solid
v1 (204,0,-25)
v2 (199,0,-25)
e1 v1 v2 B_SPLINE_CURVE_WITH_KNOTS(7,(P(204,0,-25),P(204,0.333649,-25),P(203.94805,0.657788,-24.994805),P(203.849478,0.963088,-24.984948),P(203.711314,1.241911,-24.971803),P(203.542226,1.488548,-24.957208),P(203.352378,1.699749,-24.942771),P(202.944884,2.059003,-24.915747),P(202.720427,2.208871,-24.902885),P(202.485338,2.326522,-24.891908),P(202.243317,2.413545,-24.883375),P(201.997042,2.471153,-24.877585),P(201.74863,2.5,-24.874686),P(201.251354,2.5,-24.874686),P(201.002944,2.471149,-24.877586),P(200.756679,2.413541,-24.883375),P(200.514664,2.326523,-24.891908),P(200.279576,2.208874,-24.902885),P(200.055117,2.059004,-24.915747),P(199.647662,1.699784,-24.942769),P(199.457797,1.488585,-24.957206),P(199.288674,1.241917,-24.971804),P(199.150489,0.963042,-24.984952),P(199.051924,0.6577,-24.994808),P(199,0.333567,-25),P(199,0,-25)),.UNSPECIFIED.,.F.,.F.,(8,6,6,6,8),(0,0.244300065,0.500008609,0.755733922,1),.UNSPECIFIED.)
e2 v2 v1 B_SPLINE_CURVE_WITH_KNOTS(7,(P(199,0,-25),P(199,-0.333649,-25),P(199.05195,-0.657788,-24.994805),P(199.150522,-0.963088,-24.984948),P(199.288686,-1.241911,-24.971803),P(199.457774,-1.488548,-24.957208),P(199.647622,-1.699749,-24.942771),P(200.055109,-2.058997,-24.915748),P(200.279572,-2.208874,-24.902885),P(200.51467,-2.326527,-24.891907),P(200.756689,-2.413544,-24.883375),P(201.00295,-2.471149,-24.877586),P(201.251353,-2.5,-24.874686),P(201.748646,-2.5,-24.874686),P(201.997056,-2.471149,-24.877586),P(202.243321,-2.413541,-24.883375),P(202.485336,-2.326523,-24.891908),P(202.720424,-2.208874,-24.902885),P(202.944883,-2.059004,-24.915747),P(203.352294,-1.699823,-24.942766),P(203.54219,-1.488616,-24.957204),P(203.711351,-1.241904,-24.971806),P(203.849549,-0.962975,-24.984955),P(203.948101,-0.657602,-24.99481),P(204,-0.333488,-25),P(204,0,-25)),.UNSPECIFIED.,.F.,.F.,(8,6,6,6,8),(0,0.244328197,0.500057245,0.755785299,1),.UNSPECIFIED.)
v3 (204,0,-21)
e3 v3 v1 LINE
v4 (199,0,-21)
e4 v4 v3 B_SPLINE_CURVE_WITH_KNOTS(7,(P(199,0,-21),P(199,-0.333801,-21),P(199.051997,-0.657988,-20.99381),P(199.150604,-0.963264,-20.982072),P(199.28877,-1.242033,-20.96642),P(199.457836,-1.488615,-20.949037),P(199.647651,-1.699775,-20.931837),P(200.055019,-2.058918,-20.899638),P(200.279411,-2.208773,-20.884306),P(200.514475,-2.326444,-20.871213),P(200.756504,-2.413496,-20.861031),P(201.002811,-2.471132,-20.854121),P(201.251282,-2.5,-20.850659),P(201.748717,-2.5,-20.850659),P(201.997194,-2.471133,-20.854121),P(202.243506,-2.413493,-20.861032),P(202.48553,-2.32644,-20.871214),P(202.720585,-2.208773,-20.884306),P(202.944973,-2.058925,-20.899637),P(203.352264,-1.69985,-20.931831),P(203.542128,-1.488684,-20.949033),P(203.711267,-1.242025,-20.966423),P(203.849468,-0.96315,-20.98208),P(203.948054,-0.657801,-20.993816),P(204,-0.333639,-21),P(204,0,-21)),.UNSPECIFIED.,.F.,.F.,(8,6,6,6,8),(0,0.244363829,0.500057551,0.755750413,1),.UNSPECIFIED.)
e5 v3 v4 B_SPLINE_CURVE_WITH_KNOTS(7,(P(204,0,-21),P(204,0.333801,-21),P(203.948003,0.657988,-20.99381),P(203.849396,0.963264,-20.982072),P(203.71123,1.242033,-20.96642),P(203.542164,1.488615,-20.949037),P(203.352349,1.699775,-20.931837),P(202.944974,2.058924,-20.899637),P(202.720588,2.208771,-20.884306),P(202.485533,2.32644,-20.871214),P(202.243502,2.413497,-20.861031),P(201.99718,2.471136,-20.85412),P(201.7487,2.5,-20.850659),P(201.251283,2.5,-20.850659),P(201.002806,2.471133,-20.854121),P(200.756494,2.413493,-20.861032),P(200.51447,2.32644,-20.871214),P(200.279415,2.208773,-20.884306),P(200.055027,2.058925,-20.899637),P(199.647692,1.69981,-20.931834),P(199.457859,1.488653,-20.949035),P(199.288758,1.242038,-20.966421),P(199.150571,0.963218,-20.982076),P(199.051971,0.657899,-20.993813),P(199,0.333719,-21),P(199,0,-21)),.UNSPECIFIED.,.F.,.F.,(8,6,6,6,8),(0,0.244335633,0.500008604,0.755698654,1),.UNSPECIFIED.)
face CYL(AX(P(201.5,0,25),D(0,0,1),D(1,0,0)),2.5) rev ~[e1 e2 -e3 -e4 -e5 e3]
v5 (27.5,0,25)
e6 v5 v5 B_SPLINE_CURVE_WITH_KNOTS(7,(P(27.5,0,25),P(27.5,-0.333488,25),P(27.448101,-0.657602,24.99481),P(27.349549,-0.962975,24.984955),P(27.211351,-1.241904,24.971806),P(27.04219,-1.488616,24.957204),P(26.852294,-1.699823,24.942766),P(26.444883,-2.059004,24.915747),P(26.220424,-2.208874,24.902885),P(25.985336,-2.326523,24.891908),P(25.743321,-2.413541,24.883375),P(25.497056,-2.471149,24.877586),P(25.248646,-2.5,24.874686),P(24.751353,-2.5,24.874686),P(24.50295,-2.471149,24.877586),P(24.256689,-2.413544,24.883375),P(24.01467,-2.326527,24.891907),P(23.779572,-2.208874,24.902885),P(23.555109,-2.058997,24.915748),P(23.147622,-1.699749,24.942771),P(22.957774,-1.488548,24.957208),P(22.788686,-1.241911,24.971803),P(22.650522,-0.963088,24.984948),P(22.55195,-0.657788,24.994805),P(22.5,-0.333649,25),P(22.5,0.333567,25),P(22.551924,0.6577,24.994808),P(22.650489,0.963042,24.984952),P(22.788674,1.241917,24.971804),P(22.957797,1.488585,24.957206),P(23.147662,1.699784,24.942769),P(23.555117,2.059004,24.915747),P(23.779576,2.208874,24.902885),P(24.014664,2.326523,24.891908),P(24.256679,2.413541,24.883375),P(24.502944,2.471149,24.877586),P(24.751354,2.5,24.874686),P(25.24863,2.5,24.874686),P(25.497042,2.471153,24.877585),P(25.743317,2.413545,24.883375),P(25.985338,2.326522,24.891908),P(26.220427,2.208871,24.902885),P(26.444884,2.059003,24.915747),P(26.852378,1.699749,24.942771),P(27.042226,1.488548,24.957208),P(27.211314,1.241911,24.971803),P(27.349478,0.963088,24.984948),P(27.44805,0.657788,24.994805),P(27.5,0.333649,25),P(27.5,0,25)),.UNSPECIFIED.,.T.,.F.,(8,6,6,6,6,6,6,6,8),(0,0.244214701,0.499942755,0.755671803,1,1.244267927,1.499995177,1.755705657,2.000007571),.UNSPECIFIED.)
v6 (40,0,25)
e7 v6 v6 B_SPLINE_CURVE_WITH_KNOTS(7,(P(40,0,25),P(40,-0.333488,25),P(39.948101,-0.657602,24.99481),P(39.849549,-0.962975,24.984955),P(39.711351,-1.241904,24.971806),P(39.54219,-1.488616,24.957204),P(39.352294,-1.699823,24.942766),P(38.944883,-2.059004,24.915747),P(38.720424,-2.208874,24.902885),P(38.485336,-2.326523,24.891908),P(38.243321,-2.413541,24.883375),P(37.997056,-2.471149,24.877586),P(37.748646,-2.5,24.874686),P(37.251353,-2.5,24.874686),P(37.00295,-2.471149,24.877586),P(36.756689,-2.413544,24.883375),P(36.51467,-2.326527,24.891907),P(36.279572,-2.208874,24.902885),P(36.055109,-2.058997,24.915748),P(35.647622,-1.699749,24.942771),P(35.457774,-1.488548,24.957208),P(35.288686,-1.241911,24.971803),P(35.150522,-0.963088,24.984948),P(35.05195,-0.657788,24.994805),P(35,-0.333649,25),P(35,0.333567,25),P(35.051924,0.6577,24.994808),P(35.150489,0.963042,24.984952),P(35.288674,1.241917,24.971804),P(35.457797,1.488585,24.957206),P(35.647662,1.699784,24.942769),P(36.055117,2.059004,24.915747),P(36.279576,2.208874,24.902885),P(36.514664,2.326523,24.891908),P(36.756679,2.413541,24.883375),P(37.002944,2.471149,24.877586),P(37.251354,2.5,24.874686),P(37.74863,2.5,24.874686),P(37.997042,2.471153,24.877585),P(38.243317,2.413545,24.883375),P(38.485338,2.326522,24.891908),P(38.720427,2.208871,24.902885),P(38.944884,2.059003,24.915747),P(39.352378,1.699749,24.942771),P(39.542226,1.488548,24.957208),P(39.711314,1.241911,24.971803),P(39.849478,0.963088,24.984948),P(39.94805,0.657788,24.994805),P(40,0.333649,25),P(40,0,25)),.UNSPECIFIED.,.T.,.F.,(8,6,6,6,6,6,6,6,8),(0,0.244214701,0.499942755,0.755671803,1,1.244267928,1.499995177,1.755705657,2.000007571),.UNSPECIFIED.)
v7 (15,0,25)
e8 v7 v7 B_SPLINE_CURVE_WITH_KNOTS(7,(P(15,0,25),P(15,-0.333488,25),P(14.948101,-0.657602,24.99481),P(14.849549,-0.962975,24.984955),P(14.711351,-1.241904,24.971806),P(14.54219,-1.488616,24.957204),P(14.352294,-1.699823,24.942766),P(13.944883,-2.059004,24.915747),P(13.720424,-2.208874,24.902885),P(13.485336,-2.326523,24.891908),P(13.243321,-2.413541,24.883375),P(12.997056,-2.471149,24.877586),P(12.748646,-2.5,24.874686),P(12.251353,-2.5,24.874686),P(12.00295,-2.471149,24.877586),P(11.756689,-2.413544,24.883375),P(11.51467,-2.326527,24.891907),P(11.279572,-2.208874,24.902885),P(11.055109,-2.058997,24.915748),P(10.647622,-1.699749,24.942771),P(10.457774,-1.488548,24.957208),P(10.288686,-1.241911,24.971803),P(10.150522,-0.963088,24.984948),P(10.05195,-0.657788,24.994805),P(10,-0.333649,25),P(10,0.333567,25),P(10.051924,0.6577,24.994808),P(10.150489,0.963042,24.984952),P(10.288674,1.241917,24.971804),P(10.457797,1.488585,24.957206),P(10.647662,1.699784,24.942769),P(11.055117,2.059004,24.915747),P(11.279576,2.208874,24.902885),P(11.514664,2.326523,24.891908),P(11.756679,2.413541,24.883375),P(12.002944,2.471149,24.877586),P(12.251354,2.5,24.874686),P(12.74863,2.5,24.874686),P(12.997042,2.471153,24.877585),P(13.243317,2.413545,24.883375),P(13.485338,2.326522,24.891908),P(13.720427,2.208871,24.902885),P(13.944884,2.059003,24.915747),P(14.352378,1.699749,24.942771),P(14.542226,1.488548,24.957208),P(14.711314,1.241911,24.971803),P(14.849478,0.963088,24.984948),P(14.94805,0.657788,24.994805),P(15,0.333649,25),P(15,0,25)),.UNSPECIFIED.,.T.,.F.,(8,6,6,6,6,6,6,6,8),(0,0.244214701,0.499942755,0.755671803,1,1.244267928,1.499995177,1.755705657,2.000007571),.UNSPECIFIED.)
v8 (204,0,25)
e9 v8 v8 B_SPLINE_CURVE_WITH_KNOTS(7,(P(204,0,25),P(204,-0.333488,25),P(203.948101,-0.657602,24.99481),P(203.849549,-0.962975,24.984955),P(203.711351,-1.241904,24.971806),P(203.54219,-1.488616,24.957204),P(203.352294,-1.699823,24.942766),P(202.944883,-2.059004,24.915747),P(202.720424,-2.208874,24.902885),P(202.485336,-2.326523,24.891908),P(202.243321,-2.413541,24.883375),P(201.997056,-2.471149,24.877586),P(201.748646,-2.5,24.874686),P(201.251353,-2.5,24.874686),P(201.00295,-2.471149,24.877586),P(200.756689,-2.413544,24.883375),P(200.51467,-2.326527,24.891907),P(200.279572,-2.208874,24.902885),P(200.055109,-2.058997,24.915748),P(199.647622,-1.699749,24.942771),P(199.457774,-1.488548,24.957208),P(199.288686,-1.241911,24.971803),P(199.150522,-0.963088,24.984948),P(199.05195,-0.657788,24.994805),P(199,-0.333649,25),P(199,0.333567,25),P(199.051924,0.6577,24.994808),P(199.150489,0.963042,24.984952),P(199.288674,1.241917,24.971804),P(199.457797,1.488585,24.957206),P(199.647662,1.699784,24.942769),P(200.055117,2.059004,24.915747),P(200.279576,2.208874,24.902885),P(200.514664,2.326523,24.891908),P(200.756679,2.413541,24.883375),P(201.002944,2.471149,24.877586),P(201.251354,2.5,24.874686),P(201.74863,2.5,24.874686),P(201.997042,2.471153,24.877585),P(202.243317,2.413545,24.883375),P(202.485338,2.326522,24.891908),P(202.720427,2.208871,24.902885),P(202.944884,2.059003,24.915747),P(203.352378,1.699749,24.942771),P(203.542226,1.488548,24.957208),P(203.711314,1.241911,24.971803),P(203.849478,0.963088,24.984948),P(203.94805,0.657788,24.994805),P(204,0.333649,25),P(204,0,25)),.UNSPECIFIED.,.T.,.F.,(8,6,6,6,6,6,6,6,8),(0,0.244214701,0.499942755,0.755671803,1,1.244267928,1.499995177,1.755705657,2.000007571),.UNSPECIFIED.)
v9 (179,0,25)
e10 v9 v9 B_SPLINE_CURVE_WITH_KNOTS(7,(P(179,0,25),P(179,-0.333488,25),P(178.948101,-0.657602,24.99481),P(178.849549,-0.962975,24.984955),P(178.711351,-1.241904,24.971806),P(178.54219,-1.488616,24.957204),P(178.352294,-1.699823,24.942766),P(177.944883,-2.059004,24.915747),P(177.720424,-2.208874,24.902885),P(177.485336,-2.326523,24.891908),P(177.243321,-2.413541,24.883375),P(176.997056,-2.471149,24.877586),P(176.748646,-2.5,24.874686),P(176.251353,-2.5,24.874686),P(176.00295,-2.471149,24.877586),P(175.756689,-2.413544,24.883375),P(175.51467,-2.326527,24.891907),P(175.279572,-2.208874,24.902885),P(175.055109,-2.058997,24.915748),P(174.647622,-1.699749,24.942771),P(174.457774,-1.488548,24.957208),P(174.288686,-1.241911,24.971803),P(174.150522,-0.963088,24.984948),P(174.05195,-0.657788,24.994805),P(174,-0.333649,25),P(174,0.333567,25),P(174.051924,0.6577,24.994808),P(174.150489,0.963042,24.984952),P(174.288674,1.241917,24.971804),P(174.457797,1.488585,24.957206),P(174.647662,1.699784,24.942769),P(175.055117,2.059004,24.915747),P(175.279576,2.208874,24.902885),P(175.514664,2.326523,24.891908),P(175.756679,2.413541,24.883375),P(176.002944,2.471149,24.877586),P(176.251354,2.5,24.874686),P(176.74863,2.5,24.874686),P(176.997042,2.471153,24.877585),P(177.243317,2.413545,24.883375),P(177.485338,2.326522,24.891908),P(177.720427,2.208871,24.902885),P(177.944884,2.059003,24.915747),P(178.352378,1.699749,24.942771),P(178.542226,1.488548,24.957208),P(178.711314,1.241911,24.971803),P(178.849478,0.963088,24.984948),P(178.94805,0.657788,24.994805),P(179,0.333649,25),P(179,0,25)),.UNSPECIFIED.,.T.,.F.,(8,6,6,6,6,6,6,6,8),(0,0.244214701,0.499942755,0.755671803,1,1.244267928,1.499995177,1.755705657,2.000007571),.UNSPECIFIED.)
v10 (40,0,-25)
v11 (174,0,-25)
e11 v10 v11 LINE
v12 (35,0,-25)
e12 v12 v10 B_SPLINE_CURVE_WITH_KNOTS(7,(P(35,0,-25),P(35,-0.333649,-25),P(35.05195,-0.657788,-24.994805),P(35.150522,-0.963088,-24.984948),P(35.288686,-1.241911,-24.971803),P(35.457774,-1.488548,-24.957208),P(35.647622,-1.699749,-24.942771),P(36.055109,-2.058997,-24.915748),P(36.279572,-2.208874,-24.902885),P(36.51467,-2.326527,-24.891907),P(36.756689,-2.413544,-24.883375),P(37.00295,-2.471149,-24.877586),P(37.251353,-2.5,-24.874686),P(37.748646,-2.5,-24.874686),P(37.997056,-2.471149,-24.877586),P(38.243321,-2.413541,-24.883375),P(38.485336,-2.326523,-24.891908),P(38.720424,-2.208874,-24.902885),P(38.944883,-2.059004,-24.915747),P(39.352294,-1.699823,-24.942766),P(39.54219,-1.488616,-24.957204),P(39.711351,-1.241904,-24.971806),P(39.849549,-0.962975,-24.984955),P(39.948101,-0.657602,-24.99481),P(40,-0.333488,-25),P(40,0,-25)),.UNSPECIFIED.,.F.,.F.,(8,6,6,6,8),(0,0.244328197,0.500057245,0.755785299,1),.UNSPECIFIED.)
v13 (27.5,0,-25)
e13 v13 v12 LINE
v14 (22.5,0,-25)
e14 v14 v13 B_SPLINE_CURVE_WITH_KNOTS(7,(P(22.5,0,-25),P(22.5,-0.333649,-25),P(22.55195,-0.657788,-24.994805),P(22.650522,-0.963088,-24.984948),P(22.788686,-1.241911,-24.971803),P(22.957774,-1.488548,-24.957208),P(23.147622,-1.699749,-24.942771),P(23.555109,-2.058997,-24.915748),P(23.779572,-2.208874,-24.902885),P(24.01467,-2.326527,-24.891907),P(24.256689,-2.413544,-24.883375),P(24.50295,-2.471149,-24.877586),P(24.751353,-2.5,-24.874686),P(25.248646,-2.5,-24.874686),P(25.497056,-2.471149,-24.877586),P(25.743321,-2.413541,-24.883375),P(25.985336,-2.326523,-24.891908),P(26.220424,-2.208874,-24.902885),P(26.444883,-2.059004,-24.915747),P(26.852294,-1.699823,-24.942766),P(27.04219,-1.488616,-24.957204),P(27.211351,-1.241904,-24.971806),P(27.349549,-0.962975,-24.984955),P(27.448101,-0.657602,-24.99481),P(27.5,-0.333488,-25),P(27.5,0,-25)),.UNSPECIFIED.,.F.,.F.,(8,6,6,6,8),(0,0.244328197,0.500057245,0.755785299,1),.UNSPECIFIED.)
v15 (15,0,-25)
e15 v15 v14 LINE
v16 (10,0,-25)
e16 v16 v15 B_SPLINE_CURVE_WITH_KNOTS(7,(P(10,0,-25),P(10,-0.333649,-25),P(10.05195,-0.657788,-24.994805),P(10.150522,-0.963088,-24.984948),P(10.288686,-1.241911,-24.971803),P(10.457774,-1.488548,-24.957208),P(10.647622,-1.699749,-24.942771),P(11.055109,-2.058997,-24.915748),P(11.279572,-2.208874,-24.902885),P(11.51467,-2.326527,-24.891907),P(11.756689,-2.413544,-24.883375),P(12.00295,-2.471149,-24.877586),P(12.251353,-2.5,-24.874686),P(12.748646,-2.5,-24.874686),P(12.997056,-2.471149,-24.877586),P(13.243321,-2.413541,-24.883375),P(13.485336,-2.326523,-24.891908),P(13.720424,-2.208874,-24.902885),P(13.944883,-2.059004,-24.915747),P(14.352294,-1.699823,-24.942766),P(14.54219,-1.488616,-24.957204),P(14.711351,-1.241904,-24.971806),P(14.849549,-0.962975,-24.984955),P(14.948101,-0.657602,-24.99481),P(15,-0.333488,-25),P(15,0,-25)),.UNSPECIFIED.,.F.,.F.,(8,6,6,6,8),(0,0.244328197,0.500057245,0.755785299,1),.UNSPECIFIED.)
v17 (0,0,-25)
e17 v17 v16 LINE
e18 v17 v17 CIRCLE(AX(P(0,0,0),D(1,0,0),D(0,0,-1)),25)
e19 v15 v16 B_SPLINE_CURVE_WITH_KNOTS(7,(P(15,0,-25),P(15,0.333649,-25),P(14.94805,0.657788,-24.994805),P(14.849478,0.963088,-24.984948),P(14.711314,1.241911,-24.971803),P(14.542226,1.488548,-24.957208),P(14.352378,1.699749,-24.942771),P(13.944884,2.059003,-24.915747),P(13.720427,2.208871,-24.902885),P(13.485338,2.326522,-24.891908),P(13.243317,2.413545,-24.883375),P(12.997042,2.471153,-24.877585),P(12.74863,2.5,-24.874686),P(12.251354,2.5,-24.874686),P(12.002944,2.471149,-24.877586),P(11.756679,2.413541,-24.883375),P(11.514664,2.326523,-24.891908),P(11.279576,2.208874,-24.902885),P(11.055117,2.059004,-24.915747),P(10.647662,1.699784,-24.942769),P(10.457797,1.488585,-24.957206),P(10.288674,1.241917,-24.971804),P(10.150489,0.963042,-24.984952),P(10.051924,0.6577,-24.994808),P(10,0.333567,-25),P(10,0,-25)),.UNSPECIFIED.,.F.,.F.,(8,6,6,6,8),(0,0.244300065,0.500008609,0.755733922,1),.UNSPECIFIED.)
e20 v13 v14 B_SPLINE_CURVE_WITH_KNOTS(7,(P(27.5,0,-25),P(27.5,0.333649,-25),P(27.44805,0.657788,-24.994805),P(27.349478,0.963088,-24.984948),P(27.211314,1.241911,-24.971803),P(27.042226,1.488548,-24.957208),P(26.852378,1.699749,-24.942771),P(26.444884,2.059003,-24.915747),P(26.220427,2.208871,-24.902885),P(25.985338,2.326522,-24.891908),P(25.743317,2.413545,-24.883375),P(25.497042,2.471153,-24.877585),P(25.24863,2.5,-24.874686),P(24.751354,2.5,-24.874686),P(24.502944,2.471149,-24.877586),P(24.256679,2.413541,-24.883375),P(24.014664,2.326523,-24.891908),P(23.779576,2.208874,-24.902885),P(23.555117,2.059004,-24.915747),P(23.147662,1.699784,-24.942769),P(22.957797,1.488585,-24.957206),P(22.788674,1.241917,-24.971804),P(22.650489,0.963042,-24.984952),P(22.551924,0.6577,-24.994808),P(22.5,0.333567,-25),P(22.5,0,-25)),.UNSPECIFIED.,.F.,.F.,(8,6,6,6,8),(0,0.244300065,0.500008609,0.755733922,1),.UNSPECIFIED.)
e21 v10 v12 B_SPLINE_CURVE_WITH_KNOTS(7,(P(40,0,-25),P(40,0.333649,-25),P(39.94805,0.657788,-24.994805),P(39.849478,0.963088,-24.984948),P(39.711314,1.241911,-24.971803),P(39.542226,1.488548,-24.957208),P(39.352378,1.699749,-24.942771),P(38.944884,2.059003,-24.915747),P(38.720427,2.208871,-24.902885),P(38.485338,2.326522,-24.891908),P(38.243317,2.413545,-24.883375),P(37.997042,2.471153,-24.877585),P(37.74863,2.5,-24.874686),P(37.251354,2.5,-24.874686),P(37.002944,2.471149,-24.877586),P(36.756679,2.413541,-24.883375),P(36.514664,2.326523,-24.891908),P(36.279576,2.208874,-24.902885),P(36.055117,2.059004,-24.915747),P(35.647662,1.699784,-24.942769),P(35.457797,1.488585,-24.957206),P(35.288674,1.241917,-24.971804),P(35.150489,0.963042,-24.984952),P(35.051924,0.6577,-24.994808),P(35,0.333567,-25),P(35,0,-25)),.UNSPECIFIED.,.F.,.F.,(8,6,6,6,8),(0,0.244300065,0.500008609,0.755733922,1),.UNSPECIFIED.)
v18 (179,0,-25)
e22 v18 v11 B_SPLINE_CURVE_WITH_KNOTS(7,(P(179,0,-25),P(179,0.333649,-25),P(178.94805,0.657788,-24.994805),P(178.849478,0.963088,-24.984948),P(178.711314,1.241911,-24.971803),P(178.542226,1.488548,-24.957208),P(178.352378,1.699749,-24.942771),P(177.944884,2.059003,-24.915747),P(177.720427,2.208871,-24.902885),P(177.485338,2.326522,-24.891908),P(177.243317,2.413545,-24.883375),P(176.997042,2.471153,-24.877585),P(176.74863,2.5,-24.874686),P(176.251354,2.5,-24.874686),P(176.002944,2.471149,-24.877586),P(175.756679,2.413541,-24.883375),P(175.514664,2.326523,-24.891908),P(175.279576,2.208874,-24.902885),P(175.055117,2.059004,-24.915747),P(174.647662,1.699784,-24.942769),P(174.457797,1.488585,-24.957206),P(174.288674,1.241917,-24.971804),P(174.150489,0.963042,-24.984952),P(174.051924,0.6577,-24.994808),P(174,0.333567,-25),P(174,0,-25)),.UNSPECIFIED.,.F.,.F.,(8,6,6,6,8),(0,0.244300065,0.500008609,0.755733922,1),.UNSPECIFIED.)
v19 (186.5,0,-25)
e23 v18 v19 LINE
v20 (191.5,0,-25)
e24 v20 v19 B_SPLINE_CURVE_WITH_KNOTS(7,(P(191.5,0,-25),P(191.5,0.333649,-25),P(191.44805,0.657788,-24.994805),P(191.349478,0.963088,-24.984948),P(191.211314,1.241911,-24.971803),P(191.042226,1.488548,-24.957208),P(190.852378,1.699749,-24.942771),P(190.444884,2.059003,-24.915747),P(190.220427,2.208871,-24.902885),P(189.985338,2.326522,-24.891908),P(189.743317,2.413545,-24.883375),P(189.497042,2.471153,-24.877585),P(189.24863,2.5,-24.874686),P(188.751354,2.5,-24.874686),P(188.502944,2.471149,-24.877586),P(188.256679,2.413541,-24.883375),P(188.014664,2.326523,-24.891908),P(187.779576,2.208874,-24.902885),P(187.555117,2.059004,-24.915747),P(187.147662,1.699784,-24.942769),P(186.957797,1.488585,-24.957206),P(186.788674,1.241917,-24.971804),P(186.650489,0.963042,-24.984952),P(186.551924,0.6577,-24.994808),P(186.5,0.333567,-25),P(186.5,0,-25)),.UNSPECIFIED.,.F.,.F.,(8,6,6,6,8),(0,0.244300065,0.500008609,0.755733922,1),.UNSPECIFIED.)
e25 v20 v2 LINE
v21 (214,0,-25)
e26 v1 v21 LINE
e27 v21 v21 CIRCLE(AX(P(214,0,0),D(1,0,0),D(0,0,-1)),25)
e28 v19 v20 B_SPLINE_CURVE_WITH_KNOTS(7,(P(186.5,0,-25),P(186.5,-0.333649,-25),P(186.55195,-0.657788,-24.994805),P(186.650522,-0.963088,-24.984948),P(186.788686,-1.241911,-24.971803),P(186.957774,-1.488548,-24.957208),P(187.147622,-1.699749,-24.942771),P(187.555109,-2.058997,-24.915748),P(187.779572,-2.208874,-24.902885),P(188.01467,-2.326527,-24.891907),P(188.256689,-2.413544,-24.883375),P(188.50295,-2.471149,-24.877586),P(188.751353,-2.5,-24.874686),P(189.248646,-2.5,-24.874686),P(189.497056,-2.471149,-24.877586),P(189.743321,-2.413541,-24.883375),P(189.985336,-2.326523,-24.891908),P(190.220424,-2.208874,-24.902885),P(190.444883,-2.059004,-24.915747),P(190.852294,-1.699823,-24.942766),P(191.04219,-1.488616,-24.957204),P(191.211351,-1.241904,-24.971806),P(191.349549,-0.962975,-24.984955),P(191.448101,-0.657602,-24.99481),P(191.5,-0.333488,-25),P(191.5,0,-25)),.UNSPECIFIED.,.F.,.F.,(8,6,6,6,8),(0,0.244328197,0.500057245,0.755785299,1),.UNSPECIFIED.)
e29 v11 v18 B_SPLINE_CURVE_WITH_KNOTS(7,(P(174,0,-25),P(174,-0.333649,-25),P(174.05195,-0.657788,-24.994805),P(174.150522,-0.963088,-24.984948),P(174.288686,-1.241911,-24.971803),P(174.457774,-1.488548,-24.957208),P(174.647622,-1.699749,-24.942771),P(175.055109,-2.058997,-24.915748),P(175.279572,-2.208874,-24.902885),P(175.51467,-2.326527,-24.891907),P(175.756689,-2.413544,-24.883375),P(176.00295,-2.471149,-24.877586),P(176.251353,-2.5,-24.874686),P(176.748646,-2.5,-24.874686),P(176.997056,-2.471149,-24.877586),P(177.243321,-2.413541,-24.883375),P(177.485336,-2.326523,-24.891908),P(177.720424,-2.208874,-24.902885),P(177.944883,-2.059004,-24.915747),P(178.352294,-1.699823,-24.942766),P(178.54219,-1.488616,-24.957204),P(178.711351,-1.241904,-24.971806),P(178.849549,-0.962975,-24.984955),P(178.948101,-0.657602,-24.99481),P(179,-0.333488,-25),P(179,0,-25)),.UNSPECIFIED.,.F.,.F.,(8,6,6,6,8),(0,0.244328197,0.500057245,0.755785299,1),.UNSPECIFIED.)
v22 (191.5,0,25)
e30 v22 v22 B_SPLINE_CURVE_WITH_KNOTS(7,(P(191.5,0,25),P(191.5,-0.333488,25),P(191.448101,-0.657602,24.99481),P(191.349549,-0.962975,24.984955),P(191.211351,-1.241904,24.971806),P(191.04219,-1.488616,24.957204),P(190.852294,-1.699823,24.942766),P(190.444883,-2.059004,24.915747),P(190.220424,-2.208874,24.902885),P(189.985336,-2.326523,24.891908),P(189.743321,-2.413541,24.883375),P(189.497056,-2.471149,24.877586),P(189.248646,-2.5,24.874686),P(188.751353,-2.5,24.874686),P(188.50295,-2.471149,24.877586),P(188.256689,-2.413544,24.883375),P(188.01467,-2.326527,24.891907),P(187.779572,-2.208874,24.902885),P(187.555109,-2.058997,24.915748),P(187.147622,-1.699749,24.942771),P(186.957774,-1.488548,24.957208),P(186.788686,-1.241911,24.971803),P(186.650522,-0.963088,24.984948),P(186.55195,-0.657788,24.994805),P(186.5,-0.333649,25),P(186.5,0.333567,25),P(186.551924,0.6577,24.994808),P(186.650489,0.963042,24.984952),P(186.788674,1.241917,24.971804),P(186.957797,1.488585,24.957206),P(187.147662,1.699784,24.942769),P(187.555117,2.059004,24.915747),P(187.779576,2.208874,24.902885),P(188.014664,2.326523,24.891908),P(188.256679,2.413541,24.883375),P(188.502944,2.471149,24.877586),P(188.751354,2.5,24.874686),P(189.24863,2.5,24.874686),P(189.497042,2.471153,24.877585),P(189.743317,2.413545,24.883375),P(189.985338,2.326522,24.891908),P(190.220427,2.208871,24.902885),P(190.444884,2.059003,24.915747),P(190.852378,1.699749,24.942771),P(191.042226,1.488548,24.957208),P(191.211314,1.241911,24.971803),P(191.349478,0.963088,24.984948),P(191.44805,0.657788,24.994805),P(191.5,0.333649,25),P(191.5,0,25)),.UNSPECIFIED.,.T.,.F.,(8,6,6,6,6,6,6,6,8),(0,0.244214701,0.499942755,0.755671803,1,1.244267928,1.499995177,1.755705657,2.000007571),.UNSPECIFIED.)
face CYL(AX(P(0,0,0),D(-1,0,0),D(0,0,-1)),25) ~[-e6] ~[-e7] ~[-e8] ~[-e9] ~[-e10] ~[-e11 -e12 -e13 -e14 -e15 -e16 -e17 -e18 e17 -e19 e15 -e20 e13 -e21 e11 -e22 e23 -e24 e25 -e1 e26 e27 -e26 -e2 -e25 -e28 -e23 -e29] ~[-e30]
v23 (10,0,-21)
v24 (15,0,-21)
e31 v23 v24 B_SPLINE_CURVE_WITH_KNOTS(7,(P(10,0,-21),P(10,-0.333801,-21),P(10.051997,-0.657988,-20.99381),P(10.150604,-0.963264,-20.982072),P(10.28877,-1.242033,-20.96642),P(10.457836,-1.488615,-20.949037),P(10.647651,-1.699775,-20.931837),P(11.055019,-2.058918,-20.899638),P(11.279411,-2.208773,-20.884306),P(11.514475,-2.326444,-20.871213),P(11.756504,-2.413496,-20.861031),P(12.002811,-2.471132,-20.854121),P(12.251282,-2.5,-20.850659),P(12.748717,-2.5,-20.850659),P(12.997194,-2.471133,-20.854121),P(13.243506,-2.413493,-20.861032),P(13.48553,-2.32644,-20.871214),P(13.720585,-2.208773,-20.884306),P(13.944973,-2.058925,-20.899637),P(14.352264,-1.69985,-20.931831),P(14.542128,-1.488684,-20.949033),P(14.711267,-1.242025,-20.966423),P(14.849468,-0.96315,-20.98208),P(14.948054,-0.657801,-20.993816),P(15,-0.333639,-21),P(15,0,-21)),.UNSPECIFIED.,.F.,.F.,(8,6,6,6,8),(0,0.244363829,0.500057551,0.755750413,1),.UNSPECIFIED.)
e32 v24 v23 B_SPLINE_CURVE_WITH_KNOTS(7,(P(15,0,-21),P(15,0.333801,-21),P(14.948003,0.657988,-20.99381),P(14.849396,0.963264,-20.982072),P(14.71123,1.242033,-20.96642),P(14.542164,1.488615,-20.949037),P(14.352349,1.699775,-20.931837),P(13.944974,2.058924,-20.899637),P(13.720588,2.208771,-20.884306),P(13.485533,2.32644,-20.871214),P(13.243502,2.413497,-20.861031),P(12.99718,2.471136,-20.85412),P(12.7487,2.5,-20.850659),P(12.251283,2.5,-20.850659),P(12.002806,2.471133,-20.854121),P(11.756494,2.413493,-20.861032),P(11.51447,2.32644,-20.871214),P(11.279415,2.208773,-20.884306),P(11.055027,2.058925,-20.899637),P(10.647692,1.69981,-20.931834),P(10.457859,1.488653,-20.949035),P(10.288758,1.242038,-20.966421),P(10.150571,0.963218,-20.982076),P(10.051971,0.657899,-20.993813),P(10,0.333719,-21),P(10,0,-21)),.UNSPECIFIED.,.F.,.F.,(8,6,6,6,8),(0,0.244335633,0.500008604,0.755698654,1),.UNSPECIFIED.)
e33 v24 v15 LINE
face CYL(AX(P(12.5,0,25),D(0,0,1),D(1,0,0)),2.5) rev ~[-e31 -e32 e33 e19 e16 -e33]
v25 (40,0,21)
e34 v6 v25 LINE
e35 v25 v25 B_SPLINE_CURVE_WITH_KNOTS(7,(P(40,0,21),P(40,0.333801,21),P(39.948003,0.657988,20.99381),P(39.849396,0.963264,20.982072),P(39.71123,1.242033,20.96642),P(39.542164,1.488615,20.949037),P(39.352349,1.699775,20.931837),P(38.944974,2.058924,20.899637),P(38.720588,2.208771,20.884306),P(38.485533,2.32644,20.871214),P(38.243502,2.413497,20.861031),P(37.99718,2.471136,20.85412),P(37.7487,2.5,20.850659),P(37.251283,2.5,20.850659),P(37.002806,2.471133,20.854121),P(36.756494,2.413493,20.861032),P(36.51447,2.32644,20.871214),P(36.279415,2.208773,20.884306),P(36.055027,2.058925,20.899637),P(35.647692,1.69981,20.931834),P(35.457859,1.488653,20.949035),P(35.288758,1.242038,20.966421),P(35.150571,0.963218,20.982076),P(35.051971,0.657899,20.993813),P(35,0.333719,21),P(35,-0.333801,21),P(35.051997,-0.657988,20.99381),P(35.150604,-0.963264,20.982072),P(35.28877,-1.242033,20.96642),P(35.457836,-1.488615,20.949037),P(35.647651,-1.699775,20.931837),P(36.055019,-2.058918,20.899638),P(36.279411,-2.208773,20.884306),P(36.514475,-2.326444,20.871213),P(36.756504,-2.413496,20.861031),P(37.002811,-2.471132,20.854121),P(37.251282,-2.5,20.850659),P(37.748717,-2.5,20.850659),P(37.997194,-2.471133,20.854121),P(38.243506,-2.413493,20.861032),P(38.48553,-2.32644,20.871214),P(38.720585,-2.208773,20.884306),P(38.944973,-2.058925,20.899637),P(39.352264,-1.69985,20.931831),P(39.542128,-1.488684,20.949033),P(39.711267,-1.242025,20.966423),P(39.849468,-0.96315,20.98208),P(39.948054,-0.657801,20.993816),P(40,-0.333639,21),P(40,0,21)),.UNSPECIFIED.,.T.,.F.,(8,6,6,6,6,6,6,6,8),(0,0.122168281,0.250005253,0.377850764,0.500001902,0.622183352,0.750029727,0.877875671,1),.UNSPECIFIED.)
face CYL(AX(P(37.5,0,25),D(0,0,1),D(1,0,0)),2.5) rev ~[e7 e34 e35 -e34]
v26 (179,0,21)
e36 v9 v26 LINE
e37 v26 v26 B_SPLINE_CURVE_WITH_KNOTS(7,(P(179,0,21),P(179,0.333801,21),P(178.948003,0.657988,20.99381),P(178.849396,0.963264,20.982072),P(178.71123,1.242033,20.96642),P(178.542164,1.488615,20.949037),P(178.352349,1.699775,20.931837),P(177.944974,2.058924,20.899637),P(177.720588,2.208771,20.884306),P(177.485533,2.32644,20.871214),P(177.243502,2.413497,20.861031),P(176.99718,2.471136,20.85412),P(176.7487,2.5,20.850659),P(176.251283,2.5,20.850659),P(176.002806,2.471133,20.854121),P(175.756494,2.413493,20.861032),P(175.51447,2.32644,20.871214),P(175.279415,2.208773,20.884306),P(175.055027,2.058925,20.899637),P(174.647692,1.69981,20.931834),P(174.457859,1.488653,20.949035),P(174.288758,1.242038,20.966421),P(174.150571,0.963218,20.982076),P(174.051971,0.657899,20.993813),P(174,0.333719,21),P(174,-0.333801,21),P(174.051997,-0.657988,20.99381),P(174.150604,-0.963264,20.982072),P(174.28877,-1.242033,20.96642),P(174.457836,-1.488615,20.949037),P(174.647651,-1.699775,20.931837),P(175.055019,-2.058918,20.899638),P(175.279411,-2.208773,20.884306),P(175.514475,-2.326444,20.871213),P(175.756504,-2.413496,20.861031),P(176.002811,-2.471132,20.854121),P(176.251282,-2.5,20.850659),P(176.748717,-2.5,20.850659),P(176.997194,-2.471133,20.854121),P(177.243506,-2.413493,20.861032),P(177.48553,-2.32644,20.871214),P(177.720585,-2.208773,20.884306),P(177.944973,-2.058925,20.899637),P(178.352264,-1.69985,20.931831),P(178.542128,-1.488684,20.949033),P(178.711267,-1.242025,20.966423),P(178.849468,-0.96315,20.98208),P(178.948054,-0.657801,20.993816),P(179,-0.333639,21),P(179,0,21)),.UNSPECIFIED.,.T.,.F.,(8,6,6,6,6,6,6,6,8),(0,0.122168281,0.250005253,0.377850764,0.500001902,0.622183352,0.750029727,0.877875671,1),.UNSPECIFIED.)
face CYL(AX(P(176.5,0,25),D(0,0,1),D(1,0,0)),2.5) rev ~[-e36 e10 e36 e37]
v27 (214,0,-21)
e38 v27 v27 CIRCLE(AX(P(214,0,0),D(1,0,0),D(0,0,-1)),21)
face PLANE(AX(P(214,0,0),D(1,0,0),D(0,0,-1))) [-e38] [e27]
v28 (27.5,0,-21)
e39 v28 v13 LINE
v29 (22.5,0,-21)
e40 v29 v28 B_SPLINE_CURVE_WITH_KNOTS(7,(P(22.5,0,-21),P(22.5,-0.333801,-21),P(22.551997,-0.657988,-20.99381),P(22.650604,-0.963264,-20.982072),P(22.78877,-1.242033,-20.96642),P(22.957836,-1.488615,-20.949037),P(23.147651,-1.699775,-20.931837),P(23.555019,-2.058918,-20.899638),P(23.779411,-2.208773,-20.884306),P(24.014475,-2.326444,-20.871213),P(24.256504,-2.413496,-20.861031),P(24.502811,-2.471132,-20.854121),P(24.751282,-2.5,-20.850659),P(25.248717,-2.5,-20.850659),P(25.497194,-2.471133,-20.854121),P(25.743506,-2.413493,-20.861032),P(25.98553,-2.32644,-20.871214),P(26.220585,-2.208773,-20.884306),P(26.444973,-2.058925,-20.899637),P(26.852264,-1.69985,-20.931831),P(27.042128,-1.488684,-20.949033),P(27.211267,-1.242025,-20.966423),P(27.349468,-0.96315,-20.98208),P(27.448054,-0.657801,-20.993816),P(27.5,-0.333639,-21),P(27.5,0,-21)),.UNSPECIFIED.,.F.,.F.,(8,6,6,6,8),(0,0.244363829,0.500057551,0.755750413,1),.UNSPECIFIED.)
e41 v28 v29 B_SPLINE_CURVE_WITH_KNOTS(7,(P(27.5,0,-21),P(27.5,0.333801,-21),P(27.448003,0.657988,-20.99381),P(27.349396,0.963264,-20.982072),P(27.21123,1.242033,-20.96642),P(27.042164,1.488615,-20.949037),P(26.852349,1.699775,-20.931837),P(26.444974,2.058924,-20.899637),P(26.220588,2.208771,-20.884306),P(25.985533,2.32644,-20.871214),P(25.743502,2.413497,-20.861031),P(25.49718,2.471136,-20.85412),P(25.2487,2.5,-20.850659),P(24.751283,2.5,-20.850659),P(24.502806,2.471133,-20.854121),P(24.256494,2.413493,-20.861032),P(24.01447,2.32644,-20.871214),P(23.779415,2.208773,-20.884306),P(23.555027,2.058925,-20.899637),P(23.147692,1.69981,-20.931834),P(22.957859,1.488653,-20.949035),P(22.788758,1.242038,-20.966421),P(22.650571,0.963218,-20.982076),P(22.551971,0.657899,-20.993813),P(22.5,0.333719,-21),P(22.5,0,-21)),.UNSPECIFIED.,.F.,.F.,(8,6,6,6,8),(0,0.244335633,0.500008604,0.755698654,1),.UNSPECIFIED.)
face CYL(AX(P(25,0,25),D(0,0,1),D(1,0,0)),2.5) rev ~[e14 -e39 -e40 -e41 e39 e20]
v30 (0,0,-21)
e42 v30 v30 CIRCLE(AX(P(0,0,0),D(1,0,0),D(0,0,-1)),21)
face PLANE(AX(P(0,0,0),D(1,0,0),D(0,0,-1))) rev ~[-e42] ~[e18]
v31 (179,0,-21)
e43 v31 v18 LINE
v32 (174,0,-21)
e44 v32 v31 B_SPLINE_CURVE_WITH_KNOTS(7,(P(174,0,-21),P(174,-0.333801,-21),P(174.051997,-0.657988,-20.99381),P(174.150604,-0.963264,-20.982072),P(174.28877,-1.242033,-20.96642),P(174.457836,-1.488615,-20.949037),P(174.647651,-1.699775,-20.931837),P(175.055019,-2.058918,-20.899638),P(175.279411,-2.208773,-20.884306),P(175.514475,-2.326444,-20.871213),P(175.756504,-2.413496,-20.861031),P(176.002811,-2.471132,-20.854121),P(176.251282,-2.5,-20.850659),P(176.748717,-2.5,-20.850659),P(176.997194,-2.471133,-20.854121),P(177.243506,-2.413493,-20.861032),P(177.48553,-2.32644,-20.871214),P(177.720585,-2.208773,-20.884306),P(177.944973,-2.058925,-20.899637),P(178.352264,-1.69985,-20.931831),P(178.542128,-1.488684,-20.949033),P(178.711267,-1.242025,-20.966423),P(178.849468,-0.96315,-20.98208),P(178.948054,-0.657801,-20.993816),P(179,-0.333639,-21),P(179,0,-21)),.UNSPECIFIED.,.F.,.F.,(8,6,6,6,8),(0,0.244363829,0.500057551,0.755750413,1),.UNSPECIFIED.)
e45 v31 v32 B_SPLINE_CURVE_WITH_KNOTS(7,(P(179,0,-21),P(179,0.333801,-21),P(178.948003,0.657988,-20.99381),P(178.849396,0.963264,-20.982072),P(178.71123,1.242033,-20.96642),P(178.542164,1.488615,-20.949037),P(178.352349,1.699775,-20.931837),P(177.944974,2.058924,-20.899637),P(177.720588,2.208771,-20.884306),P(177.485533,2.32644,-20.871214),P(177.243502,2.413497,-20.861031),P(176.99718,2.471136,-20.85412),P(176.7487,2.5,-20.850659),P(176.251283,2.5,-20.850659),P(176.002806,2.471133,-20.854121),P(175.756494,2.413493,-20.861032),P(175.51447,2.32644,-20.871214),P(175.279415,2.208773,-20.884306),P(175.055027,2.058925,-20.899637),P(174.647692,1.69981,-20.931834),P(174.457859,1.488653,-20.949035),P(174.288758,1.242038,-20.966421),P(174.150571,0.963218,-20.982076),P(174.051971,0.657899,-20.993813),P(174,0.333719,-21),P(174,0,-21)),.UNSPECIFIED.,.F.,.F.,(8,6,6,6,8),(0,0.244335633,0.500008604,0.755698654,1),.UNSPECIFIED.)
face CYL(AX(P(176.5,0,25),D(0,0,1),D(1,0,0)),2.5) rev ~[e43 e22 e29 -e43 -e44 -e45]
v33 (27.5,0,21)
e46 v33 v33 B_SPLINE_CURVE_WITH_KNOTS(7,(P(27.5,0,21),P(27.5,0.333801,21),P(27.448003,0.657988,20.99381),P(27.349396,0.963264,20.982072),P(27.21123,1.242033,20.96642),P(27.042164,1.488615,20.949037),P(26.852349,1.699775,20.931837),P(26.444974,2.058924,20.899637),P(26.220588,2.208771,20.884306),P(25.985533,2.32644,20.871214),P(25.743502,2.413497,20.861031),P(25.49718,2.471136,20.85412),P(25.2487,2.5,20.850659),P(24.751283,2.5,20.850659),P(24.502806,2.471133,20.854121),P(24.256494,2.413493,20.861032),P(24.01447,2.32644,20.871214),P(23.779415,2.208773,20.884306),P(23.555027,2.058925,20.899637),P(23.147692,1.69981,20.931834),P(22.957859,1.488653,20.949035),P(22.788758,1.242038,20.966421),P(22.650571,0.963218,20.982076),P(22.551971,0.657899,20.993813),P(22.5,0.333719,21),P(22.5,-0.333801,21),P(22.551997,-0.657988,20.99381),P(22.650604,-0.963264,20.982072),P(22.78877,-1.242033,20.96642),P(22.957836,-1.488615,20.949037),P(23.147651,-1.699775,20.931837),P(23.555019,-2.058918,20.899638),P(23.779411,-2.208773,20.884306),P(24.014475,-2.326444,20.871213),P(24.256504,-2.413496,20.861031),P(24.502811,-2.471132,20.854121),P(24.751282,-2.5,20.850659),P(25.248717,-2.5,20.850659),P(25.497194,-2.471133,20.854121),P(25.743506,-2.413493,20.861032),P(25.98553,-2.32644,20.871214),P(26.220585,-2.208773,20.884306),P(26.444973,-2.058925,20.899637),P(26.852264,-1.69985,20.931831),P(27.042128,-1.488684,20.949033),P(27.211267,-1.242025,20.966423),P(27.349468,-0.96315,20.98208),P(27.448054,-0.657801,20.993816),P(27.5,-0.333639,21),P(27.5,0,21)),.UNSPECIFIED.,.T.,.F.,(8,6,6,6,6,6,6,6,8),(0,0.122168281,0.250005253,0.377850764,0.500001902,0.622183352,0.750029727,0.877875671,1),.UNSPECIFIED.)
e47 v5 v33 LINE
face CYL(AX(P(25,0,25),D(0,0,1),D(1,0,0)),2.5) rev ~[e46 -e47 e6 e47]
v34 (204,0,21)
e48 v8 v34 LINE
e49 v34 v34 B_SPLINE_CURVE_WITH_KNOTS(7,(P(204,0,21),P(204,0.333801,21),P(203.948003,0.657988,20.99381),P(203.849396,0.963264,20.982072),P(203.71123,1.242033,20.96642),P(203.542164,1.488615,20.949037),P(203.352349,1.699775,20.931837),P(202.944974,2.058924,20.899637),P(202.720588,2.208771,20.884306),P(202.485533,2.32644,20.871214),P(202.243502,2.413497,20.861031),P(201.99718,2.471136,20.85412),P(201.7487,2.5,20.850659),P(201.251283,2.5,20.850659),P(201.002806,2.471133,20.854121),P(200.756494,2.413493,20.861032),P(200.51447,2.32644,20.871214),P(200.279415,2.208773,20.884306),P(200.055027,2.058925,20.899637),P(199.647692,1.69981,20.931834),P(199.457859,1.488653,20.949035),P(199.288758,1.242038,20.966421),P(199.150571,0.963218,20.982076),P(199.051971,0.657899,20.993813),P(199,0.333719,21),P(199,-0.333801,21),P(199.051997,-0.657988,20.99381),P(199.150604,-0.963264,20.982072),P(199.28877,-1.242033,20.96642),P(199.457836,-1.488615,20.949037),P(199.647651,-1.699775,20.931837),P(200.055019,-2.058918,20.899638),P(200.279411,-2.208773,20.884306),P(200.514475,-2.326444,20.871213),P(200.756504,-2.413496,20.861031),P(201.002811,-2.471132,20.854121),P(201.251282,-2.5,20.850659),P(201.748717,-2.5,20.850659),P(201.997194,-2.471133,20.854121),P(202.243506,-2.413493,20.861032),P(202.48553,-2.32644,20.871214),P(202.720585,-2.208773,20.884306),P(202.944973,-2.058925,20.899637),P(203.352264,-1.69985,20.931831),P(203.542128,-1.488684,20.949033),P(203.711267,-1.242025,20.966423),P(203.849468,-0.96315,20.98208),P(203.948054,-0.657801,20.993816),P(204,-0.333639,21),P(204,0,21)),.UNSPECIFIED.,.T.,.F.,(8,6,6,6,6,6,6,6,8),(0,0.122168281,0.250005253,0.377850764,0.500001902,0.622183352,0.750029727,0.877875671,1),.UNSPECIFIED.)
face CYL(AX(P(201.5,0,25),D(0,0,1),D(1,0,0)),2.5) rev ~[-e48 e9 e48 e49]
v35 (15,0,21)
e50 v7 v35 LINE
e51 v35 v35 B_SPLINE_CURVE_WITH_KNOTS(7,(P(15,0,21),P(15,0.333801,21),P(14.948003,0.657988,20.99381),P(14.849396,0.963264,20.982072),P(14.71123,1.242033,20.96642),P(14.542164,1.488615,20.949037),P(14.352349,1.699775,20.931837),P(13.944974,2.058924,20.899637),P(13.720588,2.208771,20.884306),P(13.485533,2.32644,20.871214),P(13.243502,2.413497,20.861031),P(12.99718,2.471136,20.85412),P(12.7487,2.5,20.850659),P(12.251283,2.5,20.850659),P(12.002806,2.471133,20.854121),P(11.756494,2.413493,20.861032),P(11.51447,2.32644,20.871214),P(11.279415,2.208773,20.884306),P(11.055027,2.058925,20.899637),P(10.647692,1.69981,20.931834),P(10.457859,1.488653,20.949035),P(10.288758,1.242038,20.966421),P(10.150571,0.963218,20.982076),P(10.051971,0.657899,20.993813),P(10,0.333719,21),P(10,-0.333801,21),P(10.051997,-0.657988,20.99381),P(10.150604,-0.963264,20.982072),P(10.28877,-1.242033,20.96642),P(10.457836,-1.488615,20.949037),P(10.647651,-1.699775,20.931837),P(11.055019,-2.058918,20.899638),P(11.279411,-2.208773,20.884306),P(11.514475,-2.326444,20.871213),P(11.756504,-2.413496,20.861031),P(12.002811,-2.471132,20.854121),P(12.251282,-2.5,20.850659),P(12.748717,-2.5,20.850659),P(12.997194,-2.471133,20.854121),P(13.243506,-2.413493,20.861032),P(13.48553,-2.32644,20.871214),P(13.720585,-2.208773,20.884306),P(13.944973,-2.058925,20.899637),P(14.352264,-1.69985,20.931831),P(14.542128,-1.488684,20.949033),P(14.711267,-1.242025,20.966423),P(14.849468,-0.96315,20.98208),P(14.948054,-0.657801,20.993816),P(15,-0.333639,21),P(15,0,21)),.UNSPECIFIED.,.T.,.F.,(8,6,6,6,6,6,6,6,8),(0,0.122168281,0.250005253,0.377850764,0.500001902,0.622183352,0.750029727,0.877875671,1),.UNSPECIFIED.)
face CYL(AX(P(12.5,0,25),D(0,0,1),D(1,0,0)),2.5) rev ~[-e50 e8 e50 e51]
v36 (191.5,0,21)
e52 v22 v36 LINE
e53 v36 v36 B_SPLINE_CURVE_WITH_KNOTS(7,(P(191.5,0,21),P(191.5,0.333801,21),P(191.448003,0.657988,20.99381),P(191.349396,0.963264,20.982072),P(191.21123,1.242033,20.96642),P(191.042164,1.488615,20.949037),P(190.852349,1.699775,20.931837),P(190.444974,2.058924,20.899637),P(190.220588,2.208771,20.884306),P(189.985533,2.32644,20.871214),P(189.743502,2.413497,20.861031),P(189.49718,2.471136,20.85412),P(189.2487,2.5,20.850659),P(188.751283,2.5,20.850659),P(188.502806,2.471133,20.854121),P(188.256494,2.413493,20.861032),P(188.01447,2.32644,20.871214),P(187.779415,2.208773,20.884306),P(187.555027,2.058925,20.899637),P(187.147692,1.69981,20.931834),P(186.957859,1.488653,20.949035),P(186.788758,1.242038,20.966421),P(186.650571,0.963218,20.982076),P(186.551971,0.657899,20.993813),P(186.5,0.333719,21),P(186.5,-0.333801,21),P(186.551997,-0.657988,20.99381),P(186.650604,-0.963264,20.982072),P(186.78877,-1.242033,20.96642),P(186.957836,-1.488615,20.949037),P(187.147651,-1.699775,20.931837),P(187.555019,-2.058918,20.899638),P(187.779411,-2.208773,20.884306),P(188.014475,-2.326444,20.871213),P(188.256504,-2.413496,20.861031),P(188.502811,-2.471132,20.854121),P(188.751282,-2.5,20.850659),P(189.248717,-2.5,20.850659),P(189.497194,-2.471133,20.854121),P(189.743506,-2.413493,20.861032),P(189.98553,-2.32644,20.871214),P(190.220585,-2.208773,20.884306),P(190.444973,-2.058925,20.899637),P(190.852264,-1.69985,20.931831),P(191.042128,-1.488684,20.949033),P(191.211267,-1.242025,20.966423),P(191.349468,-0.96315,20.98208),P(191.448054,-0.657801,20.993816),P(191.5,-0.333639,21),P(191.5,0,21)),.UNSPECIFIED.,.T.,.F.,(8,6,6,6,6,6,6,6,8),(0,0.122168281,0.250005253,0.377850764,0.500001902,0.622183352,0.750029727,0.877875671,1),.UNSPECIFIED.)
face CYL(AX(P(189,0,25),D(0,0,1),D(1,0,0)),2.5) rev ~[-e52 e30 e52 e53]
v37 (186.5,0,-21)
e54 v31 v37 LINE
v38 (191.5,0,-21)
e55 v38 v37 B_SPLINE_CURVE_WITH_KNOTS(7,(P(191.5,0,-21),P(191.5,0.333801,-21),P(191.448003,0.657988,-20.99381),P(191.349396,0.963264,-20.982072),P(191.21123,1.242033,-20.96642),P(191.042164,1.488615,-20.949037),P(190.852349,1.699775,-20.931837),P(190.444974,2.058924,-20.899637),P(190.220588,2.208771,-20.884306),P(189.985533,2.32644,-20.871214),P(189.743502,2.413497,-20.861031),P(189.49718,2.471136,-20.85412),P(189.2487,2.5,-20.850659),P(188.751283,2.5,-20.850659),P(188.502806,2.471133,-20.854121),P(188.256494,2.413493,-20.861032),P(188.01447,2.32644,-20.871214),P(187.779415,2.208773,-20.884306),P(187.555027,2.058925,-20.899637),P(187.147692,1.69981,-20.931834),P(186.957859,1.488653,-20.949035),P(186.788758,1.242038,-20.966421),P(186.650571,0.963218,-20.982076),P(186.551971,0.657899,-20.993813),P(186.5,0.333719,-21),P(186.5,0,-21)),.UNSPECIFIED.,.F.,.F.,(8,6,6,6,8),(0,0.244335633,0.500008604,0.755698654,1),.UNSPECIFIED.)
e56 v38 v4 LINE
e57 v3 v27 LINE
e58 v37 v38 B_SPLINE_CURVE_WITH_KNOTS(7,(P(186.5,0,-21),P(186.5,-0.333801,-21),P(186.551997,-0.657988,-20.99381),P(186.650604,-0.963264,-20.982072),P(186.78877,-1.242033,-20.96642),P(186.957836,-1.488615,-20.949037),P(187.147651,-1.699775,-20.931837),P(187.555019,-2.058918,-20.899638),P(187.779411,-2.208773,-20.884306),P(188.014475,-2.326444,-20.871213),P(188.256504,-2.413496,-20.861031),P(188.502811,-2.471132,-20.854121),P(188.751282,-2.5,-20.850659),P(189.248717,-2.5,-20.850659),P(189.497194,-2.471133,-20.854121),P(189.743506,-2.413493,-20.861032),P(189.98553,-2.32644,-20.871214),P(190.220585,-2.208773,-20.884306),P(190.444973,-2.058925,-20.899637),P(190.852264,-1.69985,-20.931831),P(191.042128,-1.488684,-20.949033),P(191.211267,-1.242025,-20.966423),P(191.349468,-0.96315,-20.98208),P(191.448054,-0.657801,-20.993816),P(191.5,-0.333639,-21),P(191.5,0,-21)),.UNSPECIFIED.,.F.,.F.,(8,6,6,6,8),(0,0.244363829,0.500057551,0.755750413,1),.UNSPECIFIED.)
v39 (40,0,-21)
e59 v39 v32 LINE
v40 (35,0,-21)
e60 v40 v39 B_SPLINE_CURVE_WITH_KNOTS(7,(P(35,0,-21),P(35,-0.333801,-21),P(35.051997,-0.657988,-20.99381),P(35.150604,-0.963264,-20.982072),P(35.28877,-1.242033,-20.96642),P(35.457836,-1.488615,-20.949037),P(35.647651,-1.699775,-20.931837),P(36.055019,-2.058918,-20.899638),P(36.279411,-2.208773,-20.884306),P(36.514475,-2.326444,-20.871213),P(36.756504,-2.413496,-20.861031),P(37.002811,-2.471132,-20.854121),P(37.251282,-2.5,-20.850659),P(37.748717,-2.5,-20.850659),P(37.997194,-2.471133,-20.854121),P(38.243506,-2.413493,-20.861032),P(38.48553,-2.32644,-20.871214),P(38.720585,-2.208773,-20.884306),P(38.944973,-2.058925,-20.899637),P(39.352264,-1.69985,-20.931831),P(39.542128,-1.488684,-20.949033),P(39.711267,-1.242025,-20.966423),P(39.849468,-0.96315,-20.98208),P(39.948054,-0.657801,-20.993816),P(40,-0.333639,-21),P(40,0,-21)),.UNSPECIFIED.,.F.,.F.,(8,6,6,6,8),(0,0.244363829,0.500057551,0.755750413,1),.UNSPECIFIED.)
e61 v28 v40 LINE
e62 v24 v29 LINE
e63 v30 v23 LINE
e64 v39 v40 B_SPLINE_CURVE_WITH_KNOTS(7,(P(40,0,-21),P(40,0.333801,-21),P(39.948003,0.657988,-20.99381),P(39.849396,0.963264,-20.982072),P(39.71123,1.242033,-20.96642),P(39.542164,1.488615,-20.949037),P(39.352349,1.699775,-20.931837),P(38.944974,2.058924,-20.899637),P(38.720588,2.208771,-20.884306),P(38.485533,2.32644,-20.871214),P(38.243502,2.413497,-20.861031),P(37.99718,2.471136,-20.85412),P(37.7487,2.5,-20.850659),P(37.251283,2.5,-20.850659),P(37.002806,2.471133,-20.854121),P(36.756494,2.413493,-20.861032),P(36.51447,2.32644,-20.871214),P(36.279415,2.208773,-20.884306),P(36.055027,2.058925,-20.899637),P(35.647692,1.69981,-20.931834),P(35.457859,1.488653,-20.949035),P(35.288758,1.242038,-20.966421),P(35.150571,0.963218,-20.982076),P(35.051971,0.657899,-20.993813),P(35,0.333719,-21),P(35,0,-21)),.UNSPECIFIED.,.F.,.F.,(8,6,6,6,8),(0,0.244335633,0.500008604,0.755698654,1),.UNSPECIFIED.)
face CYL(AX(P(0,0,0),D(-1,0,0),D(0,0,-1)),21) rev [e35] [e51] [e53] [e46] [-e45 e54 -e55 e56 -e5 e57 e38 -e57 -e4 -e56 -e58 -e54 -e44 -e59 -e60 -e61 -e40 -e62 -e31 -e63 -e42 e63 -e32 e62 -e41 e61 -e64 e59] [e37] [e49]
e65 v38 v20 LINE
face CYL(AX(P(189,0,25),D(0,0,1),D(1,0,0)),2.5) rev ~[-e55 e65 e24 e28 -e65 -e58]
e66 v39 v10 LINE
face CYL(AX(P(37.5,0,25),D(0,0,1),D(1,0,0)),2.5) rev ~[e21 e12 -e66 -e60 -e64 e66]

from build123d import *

# Parameters (mm, degrees)
SKETCH_2_R               = 25
SKETCH_2_R_2             = 21
EXTRUDE_2_DEPTH          = 214
SKETCH_4_R               = 2.5
CUT_EXTRUDE_2_DEPTH      = 10
CUT_EXTRUDE_2_DEPTH_BACK = 51


with BuildPart() as part:
    # Эскиз2 → Бобышка-Вытянуть2 (new body)
    with BuildSketch(Plane(origin=(0, 0, 0), x_dir=(0, 0, -1), z_dir=(1, 0, 0))):
        Circle(SKETCH_2_R)
        Circle(SKETCH_2_R_2, mode=Mode.SUBTRACT)
    extrude(amount=EXTRUDE_2_DEPTH)

    # Эскиз4 → Вырез-Вытянуть2 (cut, two sides)
    with BuildSketch(Plane.XY.offset(25)) as cut_extrude_2_sk:
        with Locations((12.5, 0)):
            Circle(SKETCH_4_R)
        with Locations((201.5, 0)):
            Circle(SKETCH_4_R)
        with Locations((25, 0)):
            Circle(SKETCH_4_R)
        with Locations((37.5, 0)):
            Circle(SKETCH_4_R)
        with Locations((189, 0)):
            Circle(SKETCH_4_R)
        with Locations((176.5, 0)):
            Circle(SKETCH_4_R)
    extrude(amount=CUT_EXTRUDE_2_DEPTH, mode=Mode.SUBTRACT)
    extrude(cut_extrude_2_sk.sketch, amount=-CUT_EXTRUDE_2_DEPTH_BACK, mode=Mode.SUBTRACT)


solid = part.part
